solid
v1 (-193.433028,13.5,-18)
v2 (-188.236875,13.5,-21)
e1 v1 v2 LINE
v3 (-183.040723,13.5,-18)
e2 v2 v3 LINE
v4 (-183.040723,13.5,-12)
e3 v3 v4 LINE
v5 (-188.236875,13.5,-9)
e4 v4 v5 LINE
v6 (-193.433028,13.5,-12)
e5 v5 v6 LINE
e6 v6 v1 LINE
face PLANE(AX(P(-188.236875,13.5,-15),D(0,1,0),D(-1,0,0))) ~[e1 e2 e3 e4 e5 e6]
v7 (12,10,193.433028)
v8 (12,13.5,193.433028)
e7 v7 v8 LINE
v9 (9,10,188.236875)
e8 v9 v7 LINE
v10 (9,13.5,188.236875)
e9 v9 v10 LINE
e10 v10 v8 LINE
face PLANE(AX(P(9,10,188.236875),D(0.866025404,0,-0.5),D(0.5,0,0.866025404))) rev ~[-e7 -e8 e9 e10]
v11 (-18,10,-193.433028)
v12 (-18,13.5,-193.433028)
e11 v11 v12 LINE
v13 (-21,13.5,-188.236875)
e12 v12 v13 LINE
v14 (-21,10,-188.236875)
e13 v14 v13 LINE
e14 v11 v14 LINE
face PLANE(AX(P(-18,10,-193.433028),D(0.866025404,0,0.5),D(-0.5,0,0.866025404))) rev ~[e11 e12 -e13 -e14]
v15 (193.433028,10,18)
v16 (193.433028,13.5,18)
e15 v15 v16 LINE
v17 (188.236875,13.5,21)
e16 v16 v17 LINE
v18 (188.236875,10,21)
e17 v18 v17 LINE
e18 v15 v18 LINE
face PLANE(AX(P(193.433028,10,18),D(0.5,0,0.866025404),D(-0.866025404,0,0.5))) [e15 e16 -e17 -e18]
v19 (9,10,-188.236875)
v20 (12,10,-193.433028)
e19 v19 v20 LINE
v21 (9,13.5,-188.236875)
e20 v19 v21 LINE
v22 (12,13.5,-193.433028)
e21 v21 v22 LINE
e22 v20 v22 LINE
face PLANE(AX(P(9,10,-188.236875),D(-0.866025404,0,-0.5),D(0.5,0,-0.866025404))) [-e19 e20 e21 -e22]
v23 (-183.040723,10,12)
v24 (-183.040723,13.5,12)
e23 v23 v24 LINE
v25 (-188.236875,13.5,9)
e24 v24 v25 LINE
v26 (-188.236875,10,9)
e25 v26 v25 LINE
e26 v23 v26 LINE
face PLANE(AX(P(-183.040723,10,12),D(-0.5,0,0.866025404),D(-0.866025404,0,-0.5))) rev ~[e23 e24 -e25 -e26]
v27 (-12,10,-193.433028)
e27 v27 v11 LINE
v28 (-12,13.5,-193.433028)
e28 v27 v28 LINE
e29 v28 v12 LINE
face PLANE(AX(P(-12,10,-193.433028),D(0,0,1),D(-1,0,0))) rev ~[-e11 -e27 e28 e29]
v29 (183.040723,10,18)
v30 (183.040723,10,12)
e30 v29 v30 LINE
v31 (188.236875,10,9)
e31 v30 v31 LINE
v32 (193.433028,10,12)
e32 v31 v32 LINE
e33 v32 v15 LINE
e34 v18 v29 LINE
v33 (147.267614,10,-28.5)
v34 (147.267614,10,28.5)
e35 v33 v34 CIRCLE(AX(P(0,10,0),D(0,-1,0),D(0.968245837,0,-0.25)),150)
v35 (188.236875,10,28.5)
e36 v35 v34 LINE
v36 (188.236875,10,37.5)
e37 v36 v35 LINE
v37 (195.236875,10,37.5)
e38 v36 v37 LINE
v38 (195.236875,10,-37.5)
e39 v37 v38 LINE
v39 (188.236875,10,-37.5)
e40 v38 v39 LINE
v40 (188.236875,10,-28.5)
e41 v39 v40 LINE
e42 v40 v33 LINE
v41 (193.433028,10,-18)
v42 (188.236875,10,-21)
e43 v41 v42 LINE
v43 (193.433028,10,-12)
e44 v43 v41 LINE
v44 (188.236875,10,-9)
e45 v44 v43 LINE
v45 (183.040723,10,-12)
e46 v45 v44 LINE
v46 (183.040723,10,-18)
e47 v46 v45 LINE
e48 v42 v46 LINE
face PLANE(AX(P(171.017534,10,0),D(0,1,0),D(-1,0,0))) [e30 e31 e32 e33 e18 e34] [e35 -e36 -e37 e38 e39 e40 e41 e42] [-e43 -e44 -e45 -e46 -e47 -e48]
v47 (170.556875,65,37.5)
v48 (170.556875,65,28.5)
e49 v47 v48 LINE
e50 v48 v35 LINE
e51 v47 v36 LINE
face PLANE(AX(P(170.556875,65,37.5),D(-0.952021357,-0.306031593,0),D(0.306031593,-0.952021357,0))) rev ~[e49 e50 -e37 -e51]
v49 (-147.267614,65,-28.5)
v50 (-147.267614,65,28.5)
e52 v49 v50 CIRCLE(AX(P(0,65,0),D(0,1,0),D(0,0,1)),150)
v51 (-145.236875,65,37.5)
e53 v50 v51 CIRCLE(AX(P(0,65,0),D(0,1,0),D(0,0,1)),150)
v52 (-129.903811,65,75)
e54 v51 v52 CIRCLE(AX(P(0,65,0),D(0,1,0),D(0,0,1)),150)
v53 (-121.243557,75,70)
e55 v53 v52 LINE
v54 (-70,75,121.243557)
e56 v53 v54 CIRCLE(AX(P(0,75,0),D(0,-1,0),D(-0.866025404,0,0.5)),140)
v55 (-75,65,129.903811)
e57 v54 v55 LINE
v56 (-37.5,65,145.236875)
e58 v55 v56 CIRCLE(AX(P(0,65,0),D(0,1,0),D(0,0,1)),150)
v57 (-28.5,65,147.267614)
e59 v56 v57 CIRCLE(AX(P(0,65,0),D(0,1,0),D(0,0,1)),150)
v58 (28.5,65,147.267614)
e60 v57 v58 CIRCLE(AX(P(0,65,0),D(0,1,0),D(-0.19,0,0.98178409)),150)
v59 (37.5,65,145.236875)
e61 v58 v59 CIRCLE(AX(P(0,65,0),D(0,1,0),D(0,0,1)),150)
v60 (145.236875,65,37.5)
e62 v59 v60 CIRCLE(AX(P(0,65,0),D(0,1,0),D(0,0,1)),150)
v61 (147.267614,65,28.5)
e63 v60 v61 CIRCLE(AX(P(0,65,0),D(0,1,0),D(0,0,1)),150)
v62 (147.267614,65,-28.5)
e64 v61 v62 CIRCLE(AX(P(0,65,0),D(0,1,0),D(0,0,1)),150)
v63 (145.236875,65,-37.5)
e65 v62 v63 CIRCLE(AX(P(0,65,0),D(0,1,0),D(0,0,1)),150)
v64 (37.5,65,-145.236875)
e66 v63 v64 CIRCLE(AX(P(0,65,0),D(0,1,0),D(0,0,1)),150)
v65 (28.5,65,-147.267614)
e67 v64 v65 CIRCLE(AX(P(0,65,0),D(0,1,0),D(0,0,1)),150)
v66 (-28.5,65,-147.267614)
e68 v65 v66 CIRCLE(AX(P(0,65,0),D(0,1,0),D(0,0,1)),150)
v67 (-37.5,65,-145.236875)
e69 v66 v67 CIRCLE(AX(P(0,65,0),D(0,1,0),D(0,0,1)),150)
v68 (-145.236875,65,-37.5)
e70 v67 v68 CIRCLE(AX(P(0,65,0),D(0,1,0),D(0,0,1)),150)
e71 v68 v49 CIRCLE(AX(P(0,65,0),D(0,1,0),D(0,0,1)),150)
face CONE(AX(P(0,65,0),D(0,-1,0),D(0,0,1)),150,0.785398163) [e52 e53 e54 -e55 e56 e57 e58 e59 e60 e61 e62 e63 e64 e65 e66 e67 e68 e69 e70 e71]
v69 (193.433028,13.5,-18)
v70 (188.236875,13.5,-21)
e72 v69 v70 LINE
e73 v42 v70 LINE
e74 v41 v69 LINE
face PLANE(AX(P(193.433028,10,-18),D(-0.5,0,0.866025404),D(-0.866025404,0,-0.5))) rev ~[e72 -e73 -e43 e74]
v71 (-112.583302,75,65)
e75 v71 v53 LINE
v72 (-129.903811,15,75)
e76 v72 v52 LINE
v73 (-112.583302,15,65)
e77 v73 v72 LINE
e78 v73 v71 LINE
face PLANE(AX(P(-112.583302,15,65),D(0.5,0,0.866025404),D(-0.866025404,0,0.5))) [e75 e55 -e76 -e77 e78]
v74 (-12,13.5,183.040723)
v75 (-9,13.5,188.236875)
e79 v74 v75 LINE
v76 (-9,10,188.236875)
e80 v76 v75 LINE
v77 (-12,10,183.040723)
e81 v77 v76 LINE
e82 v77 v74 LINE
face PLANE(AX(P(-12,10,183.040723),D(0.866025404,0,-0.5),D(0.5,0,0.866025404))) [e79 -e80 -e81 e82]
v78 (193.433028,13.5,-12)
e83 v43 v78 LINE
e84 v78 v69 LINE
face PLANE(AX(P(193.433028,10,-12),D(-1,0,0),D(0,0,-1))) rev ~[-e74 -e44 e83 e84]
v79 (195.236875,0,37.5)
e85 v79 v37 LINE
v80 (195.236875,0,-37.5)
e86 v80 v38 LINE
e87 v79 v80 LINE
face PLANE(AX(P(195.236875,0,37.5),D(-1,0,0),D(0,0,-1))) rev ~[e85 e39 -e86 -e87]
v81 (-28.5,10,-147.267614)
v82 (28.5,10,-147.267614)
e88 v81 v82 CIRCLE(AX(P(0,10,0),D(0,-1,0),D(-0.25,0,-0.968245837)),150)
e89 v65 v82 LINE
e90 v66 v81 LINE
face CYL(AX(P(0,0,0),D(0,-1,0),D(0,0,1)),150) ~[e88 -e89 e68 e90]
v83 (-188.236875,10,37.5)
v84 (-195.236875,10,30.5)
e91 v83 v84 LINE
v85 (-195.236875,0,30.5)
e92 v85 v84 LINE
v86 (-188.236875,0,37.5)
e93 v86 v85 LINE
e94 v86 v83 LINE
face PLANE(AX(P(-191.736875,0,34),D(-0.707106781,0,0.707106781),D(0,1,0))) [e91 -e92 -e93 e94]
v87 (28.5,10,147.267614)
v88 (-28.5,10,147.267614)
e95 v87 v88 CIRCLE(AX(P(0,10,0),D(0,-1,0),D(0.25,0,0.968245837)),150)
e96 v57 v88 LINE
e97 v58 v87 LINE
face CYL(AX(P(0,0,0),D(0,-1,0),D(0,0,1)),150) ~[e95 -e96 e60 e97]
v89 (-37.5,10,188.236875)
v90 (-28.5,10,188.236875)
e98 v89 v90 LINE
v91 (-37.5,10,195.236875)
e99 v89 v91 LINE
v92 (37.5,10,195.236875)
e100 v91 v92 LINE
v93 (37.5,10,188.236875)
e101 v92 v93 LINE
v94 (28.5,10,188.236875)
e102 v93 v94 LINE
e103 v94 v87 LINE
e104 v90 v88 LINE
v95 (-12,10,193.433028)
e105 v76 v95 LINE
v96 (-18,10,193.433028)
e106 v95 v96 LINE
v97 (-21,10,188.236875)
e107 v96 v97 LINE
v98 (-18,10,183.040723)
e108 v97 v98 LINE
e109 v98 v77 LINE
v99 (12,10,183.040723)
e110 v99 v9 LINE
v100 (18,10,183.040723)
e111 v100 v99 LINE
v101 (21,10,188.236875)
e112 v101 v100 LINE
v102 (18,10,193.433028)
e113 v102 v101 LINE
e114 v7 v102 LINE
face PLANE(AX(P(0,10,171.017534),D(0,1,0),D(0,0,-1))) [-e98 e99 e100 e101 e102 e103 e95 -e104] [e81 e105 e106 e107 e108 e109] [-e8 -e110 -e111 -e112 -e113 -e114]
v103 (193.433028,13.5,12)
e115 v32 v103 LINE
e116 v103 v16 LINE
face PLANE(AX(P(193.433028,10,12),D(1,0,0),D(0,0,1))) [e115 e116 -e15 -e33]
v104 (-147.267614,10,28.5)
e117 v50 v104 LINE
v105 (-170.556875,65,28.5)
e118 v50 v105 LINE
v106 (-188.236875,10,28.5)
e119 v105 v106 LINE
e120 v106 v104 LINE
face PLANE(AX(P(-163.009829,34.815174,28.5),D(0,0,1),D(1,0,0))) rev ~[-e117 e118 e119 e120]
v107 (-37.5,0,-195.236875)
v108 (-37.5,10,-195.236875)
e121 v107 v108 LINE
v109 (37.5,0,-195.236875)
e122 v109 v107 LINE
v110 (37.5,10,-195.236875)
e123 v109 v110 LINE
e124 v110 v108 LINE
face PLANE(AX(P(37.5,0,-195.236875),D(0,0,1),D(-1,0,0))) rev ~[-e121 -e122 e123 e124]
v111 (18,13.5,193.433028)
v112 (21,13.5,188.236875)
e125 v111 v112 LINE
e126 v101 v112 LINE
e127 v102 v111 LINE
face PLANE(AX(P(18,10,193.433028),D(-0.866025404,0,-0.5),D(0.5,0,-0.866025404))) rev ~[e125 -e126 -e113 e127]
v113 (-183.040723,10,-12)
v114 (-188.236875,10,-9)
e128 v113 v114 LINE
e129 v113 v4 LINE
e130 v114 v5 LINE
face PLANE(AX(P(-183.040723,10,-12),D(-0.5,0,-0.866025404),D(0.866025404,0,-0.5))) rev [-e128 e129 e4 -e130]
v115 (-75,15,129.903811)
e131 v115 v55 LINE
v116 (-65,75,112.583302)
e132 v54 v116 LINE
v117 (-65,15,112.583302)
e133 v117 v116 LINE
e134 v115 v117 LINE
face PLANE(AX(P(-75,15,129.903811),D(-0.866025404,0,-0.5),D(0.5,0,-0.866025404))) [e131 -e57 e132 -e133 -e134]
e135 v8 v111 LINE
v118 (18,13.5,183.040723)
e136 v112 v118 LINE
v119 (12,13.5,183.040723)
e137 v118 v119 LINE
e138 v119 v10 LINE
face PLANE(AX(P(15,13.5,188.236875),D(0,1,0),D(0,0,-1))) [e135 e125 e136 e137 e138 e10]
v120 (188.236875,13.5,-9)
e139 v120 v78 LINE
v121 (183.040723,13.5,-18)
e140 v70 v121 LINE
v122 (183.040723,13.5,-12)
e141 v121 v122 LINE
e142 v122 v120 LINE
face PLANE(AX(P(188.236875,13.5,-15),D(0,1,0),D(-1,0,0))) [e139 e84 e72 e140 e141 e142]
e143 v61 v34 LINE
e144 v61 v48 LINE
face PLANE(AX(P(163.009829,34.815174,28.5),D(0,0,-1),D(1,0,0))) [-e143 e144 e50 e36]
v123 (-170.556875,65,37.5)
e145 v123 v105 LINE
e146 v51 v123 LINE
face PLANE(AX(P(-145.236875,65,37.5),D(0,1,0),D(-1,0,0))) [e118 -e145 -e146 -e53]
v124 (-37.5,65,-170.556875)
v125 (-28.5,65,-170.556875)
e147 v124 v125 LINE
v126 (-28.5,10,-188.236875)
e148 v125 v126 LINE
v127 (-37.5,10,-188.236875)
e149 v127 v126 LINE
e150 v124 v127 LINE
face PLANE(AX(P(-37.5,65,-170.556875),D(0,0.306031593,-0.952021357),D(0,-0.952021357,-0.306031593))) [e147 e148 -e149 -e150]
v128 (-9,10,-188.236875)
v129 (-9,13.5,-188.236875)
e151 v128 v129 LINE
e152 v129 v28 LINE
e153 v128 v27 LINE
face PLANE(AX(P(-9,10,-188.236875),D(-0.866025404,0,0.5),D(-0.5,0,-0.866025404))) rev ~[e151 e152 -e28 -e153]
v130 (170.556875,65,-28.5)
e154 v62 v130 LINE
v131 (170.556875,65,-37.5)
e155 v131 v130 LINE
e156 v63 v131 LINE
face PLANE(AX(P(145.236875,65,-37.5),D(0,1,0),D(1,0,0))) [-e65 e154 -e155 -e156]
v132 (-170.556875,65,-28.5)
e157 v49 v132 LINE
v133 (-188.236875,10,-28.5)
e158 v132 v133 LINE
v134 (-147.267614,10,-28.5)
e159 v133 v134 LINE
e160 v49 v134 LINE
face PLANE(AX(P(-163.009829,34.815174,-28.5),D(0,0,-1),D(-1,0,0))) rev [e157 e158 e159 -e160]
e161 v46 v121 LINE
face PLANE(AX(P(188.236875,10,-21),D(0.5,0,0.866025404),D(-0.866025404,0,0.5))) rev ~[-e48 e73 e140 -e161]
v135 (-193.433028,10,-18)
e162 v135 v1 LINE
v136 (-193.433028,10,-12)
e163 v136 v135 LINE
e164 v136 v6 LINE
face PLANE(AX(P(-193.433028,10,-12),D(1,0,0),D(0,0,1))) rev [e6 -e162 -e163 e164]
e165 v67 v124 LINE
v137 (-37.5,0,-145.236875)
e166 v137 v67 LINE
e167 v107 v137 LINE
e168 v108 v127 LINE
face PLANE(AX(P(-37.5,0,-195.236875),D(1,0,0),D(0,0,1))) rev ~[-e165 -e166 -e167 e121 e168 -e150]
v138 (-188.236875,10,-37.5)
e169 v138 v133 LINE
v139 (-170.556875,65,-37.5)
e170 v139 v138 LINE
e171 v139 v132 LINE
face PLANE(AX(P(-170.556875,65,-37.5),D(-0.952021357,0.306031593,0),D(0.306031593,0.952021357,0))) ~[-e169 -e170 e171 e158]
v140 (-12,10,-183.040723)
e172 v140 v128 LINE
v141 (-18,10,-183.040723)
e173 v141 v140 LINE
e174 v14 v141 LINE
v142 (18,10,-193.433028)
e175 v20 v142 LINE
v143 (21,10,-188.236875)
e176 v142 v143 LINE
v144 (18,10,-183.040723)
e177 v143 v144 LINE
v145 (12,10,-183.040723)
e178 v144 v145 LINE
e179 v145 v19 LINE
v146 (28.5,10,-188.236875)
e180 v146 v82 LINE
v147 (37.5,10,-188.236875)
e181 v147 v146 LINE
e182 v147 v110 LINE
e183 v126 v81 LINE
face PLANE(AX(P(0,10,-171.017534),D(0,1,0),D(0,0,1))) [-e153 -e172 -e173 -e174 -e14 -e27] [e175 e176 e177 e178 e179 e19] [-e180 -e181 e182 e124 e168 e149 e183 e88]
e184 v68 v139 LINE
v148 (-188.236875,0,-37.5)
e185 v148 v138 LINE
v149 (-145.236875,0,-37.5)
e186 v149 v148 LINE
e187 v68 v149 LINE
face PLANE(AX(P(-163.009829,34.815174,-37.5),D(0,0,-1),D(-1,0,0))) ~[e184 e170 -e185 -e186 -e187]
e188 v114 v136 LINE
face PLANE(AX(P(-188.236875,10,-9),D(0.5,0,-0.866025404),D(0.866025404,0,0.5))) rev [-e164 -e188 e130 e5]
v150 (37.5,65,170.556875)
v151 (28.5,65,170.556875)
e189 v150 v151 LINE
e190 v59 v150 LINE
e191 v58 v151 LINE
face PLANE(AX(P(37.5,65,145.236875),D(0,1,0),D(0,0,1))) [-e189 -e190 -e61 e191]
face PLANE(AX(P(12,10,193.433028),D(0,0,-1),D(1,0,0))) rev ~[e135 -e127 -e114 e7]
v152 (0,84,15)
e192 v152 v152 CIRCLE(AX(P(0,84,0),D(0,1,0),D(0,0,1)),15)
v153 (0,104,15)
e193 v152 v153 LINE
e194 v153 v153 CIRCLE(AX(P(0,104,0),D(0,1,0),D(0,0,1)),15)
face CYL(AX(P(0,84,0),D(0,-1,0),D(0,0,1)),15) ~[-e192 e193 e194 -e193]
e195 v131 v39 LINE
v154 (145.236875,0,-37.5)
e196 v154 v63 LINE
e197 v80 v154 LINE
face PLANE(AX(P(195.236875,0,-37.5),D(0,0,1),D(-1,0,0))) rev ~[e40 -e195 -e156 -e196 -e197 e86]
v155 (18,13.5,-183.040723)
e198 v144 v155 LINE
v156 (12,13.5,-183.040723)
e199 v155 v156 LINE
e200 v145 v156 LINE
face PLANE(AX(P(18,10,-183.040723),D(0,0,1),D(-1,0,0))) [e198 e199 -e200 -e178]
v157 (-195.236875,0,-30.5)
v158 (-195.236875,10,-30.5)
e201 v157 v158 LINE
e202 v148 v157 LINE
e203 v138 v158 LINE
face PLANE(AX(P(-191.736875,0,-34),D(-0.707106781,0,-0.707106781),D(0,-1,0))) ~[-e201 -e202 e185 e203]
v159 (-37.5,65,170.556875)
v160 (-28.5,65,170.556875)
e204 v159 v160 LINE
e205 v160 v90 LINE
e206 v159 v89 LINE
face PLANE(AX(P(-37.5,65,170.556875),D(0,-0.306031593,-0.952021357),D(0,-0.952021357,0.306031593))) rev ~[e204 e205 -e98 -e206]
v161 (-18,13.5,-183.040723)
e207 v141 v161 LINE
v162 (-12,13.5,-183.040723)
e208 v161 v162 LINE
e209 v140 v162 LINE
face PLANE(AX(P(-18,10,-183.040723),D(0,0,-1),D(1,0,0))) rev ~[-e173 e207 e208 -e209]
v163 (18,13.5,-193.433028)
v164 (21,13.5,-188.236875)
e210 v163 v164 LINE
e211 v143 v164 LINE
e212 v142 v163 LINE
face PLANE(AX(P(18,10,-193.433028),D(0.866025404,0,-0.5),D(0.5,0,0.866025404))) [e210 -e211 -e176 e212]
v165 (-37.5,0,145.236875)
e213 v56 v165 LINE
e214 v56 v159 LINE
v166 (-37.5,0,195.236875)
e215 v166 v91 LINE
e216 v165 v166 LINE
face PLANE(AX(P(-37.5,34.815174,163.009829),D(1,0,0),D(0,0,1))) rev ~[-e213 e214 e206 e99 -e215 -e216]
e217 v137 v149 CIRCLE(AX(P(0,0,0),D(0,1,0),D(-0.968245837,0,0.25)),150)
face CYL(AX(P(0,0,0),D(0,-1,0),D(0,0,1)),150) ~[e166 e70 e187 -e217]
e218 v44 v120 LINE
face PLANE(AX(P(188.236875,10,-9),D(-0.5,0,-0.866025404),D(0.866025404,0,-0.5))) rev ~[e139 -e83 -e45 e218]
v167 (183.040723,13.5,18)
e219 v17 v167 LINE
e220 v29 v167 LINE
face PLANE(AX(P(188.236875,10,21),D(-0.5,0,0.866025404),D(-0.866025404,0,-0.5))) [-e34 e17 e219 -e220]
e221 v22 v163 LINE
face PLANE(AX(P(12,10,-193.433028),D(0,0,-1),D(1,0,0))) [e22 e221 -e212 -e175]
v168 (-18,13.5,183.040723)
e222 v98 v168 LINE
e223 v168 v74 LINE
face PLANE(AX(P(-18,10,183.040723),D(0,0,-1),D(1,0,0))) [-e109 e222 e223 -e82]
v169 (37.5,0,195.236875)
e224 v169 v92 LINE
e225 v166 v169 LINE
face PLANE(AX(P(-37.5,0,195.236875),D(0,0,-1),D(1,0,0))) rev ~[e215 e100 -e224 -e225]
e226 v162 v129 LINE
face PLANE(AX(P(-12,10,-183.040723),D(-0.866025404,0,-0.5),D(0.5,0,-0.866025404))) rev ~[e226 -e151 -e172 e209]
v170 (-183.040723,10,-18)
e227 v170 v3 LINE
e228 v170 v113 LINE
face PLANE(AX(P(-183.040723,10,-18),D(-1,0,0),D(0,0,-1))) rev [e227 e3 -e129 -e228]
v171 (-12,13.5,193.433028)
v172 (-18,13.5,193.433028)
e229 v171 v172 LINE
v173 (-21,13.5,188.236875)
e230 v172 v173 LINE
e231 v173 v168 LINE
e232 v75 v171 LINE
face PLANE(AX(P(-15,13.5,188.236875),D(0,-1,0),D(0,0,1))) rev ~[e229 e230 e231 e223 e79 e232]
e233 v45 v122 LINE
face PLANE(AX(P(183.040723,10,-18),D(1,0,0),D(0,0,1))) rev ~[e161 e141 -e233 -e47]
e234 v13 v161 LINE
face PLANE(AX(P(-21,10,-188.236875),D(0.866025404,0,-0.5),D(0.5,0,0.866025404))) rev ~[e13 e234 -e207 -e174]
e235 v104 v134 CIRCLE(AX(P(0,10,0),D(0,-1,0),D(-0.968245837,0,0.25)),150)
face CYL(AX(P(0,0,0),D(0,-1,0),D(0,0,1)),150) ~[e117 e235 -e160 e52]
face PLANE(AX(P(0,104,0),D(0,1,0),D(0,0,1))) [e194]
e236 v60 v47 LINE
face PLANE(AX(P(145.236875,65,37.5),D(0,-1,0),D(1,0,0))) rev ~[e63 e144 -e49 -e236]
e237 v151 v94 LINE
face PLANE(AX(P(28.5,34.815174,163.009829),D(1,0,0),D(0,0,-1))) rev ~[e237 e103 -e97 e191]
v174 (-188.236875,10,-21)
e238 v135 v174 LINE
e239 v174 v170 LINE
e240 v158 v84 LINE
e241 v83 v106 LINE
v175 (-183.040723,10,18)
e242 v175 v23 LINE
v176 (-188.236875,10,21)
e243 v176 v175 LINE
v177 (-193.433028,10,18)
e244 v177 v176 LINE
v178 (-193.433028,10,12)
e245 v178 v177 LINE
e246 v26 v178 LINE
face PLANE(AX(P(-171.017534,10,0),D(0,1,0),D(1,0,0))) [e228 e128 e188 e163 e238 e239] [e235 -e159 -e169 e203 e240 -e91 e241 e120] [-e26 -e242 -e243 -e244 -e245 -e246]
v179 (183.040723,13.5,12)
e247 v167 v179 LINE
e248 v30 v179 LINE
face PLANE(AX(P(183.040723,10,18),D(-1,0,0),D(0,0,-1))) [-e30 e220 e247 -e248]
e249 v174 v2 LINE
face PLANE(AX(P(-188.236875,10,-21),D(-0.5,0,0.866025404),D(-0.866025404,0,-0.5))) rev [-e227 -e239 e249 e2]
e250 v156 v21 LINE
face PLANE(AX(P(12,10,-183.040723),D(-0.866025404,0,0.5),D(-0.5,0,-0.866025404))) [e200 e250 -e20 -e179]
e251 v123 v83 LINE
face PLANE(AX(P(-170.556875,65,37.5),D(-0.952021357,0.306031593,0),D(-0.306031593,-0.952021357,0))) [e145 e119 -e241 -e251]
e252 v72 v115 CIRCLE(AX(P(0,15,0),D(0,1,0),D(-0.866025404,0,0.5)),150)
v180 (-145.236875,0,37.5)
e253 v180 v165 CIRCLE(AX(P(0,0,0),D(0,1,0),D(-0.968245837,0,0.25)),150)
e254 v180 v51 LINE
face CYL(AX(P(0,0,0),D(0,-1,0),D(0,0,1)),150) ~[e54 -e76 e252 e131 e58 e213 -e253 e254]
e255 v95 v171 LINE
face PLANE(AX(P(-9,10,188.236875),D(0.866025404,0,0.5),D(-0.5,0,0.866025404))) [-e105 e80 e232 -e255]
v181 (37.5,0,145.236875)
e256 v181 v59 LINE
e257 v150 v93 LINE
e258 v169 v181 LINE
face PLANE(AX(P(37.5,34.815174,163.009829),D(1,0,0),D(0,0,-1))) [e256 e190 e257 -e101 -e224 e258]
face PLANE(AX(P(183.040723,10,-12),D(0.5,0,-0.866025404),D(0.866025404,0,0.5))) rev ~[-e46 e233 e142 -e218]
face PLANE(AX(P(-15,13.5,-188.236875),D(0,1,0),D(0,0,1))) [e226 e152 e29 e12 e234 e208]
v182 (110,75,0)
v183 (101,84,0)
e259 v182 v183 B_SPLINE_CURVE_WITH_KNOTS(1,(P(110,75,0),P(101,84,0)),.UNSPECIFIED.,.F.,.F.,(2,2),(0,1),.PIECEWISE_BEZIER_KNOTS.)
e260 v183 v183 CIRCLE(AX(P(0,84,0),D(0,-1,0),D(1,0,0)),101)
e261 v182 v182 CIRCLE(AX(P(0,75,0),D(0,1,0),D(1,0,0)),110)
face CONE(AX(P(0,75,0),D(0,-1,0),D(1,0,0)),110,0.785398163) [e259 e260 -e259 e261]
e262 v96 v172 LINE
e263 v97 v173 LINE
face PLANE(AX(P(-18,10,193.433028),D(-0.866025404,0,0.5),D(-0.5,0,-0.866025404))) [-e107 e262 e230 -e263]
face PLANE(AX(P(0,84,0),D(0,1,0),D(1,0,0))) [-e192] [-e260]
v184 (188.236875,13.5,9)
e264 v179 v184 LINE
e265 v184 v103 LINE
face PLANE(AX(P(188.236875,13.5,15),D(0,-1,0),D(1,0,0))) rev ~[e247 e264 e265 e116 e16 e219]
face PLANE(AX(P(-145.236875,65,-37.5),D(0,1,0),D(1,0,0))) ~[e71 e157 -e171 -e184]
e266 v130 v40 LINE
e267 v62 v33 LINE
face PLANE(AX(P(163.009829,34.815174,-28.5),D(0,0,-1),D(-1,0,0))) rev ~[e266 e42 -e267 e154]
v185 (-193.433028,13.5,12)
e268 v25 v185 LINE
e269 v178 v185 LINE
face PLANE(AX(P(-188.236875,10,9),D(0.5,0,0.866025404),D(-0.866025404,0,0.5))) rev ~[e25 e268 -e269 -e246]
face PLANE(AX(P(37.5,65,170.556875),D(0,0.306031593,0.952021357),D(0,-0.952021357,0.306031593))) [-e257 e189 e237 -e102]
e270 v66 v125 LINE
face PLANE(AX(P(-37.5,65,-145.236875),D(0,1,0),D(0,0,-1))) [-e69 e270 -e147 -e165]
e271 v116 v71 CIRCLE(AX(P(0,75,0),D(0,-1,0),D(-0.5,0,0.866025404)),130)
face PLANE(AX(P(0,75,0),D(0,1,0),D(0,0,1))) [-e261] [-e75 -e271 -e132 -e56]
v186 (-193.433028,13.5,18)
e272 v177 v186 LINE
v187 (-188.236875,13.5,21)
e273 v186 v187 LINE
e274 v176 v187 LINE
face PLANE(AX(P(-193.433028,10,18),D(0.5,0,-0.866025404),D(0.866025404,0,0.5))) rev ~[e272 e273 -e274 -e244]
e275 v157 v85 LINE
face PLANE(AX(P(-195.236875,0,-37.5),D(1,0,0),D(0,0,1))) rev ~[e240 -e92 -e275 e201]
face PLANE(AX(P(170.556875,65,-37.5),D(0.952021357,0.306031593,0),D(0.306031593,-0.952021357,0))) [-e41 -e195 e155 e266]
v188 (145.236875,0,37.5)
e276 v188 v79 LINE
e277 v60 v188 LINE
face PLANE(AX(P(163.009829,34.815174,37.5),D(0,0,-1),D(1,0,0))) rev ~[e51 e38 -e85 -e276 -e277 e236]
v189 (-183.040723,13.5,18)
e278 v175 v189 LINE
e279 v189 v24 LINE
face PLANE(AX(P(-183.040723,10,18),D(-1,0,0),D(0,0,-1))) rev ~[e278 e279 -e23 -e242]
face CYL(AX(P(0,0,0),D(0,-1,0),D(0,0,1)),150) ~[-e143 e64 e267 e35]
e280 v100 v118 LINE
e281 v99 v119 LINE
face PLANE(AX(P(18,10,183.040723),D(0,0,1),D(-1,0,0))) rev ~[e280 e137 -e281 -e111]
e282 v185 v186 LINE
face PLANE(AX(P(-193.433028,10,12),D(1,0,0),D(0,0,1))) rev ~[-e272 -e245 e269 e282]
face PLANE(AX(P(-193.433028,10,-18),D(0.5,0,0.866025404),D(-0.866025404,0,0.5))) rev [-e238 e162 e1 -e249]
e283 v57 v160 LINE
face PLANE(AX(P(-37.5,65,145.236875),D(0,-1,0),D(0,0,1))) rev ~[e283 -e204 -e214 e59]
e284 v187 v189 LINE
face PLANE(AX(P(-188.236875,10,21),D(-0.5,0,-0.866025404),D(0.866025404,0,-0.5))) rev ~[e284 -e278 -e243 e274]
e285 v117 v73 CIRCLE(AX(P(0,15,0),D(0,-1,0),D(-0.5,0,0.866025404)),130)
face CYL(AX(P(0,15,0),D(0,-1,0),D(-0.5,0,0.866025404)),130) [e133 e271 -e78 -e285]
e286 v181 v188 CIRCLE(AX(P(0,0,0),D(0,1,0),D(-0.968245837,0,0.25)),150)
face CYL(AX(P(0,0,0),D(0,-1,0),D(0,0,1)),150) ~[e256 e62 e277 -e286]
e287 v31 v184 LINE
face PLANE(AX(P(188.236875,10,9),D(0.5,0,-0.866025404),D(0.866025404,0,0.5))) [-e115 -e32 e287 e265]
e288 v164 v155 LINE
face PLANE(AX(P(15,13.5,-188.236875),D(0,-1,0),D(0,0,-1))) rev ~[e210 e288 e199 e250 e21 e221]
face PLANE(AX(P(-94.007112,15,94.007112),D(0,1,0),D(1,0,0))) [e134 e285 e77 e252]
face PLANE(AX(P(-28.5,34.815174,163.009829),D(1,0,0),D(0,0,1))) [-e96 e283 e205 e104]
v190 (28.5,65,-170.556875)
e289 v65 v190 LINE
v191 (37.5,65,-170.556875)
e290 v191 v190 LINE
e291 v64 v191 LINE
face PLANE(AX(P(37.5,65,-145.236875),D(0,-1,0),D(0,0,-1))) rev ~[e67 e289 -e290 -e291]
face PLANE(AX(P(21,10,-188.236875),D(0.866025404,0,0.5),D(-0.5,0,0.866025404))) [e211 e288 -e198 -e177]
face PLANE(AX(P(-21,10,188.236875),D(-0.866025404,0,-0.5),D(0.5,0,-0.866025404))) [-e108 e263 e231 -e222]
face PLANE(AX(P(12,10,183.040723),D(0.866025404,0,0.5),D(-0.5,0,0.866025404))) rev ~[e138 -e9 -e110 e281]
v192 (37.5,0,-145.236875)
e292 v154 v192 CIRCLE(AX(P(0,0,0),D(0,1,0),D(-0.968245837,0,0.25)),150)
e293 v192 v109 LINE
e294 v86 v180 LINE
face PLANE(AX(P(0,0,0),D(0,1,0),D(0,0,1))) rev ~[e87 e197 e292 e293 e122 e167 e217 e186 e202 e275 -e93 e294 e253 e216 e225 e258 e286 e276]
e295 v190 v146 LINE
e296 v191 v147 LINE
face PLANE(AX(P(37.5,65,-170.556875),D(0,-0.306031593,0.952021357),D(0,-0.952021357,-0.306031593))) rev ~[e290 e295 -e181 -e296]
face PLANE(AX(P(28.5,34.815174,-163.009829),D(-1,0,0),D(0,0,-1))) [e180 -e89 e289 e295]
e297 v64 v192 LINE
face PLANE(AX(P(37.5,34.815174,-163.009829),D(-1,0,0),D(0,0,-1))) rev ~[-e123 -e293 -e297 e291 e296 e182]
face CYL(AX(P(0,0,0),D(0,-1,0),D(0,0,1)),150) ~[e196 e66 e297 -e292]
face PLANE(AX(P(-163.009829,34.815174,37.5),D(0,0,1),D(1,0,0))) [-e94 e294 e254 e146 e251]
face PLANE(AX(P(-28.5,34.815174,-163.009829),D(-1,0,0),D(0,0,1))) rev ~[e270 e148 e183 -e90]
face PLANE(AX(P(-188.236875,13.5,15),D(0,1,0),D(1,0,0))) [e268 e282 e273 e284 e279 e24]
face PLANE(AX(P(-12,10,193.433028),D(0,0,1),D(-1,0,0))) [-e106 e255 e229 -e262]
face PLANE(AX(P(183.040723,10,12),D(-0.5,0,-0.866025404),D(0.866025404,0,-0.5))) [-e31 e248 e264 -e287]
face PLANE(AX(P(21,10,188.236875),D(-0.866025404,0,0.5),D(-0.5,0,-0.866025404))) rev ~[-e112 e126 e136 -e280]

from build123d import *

# Parameters (mm, degrees)
SKETCH1_R                = 150
BOSS_EXTRUDE1_DEPTH      = 75
CHAMFER1_SIZE            = 10
BOSS_EXTRUDE2_START      = -75
BOSS_EXTRUDE2_DEPTH      = 10
CHAMFER2_SIZE            = 7
BOSS_EXTRUDE3_DEPTH      = 9
BOSS_EXTRUDE4_DEPTH      = 3.5
CIRPATTERN1_COUNT        = 4
CIRPATTERN1_COPY_1_DEPTH = 9
CIRPATTERN1_COPY_2_DEPTH = 9
CIRPATTERN1_COPY_3_DEPTH = 9
CIRPATTERN1_COPY_4_DEPTH = 3.5
CIRPATTERN1_COPY_5_DEPTH = 3.5
CIRPATTERN1_COPY_6_DEPTH = 3.5
CUT_EXTRUDE1_START       = -60
CUT_EXTRUDE1_DEPTH       = 60
SKETCH6_R                = 110
BOSS_EXTRUDE5_DEPTH      = 9
BOSS_EXTRUDE5_TAPER      = 45
SKETCH7_R                = 15
BOSS_EXTRUDE6_DEPTH      = 20


with BuildPart() as part:
    # Sketch1 → Boss-Extrude1 (new body)
    with BuildSketch(Plane(origin=(0, 0, 0), x_dir=(1, 0, 0), z_dir=(0, 1, 0))):
        with Locations(Location((0, 0, 0), (0, 0, 270))):
            Circle(SKETCH1_R)
    extrude(amount=BOSS_EXTRUDE1_DEPTH)

    # Chamfer1
    chamfer1_edges = [part.edges().sort_by_distance(p)[0] for p in [
        (0, 75, -150),
    ]]
    chamfer(chamfer1_edges, length=CHAMFER1_SIZE)

    # Sketch2 → Boss-Extrude2 (add)
    with BuildSketch(Plane(origin=(0, 75, 0), x_dir=(1, 0, 0), z_dir=(0, 1, 0)).offset(BOSS_EXTRUDE2_START)):
        with BuildLine():
            Line((-145.236875483, 37.5), (-195.236875483, 37.5))
            Line((-195.236875483, 37.5), (-195.236875483, -37.5))
            Line((-195.236875483, -37.5), (-145.236875483, -37.5))
            ThreePointArc((-145.236875483, -37.5), (-150, 0), (-145.236875483, 37.5))
        make_face()
    boss_extrude2 = extrude(amount=BOSS_EXTRUDE2_DEPTH)

    # Chamfer2
    chamfer2_edges = [part.edges().sort_by_distance(p)[0] for p in [
        (-195.236875483, 5, -37.5),
        (-195.236875483, 5, 37.5),
    ]]
    chamfer(chamfer2_edges, length=CHAMFER2_SIZE)

    # Sketch3 → Boss-Extrude3 (add)
    with BuildSketch(Plane.XY.offset(37.5)):
        Polygon((-145.236875483, 10), (-145.236875483, 65), (-170.556875483, 65), (-188.236875483, 10), align=None)
    boss_extrude3 = extrude(amount=-BOSS_EXTRUDE3_DEPTH)

    # Sketch4 → Boss-Extrude4 (add)
    with BuildSketch(Plane(origin=(0, 10, 0), x_dir=(1, 0, 0), z_dir=(0, 1, 0))):
        Polygon((-183.04072306, -12), (-188.236875483, -9), (-193.433027905, -12), (-193.433027905, -18), (-188.236875483, -21), (-183.04072306, -18), align=None)
    boss_extrude4 = extrude(amount=BOSS_EXTRUDE4_DEPTH)

    # Mirror1: Boss-Extrude3, Boss-Extrude4 across plane
    add(boss_extrude3.mirror(Plane.XY))
    add(boss_extrude4.mirror(Plane.XY))

    # CirPattern1: Boss-Extrude2, Boss-Extrude3, Boss-Extrude4 ×4 about axis
    cirpattern1_axis = Axis((0, 0, 0), (0, 1, 0))
    add([boss_extrude2.rotate(cirpattern1_axis, i * 360 / CIRPATTERN1_COUNT) for i in range(1, CIRPATTERN1_COUNT)])
    add([boss_extrude3.rotate(cirpattern1_axis, i * 360 / CIRPATTERN1_COUNT) for i in range(1, CIRPATTERN1_COUNT)])
    add([boss_extrude4.rotate(cirpattern1_axis, i * 360 / CIRPATTERN1_COUNT) for i in range(1, CIRPATTERN1_COUNT)])

    # CirPattern1 copy 1 sketch → CirPattern1 copy 1 (add)
    with BuildSketch(Plane(origin=(-37.5, 0, 0), x_dir=(0, 0, -1), z_dir=(-1, 0, 0))):
        Polygon((-145.236875483, -10), (-145.236875483, -65), (-170.556875483, -65), (-188.236875483, -10), align=None)
    extrude(amount=-CIRPATTERN1_COPY_1_DEPTH)

    # CirPattern1 copy 2 sketch → CirPattern1 copy 2 (add)
    with BuildSketch(Plane(origin=(0, 0, 37.5), x_dir=(-1, 0, 0), z_dir=(0, 0, 1))):
        Polygon((-145.236875483, -10), (-145.236875483, -65), (-170.556875483, -65), (-188.236875483, -10), align=None)
    extrude(amount=-CIRPATTERN1_COPY_2_DEPTH)

    # CirPattern1 copy 3 sketch → CirPattern1 copy 3 (add)
    with BuildSketch(Plane(origin=(37.5, 0, 0), x_dir=(0, 0, 1), z_dir=(1, 0, 0))):
        Polygon((-145.236875483, -10), (-145.236875483, -65), (-170.556875483, -65), (-188.236875483, -10), align=None)
    extrude(amount=-CIRPATTERN1_COPY_3_DEPTH)

    # CirPattern1 copy 4 sketch → CirPattern1 copy 4 (add)
    with BuildSketch(Plane(origin=(0, 10, 0), x_dir=(0, 0, -1), z_dir=(0, 1, 0))):
        Polygon((-183.04072306, 12), (-188.236875483, 9), (-193.433027905, 12), (-193.433027905, 18), (-188.236875483, 21), (-183.04072306, 18), align=None)
    extrude(amount=CIRPATTERN1_COPY_4_DEPTH)

    # CirPattern1 copy 5 sketch → CirPattern1 copy 5 (add)
    with BuildSketch(Plane(origin=(0, 10, 0), x_dir=(-1, 0, 0), z_dir=(0, 1, 0))):
        Polygon((-183.04072306, 12), (-188.236875483, 9), (-193.433027905, 12), (-193.433027905, 18), (-188.236875483, 21), (-183.04072306, 18), align=None)
    extrude(amount=CIRPATTERN1_COPY_5_DEPTH)

    # CirPattern1 copy 6 sketch → CirPattern1 copy 6 (add)
    with BuildSketch(Plane.ZX.offset(10)):
        Polygon((-183.04072306, 12), (-188.236875483, 9), (-193.433027905, 12), (-193.433027905, 18), (-188.236875483, 21), (-183.04072306, 18), align=None)
    extrude(amount=CIRPATTERN1_COPY_6_DEPTH)

    # Sketch5 → Cut-Extrude1 (cut)
    with BuildSketch(Plane(origin=(0, 75, 0), x_dir=(1, 0, 0), z_dir=(0, 1, 0)).offset(CUT_EXTRUDE1_START)):
        with BuildLine():
            ThreePointArc((-65, -112.583302492), (-91.923881554, -91.923881554), (-112.583302492, -65))
            Line((-112.583302492, -65), (-121.24355653, -70))
            ThreePointArc((-121.24355653, -70), (-98.994949366, -98.994949366), (-70, -121.24355653))
            Line((-70, -121.24355653), (-65, -112.583302492))
        make_face()
        with BuildLine():
            ThreePointArc((-70, -121.24355653), (-98.994949366, -98.994949366), (-121.24355653, -70))
            Line((-121.24355653, -70), (-129.903810568, -75))
            ThreePointArc((-129.903810568, -75), (-106.066017178, -106.066017178), (-75, -129.903810568))
            Line((-75, -129.903810568), (-70, -121.24355653))
        make_face()
    extrude(amount=CUT_EXTRUDE1_DEPTH, mode=Mode.SUBTRACT)

    # Sketch6 → Boss-Extrude5 (add)
    with BuildSketch(Plane(origin=(0, 75, 0), x_dir=(1, 0, 0), z_dir=(0, 1, 0))):
        Circle(SKETCH6_R)
    extrude(amount=BOSS_EXTRUDE5_DEPTH, taper=BOSS_EXTRUDE5_TAPER)

    # Sketch7 → Boss-Extrude6 (add)
    with BuildSketch(Plane(origin=(0, 84, 0), x_dir=(1, 0, 0), z_dir=(0, 1, 0))):
        with Locations(Location((0, 0, 0), (0, 0, 270))):
            Circle(SKETCH7_R)
    extrude(amount=BOSS_EXTRUDE6_DEPTH)


solid = part.part
